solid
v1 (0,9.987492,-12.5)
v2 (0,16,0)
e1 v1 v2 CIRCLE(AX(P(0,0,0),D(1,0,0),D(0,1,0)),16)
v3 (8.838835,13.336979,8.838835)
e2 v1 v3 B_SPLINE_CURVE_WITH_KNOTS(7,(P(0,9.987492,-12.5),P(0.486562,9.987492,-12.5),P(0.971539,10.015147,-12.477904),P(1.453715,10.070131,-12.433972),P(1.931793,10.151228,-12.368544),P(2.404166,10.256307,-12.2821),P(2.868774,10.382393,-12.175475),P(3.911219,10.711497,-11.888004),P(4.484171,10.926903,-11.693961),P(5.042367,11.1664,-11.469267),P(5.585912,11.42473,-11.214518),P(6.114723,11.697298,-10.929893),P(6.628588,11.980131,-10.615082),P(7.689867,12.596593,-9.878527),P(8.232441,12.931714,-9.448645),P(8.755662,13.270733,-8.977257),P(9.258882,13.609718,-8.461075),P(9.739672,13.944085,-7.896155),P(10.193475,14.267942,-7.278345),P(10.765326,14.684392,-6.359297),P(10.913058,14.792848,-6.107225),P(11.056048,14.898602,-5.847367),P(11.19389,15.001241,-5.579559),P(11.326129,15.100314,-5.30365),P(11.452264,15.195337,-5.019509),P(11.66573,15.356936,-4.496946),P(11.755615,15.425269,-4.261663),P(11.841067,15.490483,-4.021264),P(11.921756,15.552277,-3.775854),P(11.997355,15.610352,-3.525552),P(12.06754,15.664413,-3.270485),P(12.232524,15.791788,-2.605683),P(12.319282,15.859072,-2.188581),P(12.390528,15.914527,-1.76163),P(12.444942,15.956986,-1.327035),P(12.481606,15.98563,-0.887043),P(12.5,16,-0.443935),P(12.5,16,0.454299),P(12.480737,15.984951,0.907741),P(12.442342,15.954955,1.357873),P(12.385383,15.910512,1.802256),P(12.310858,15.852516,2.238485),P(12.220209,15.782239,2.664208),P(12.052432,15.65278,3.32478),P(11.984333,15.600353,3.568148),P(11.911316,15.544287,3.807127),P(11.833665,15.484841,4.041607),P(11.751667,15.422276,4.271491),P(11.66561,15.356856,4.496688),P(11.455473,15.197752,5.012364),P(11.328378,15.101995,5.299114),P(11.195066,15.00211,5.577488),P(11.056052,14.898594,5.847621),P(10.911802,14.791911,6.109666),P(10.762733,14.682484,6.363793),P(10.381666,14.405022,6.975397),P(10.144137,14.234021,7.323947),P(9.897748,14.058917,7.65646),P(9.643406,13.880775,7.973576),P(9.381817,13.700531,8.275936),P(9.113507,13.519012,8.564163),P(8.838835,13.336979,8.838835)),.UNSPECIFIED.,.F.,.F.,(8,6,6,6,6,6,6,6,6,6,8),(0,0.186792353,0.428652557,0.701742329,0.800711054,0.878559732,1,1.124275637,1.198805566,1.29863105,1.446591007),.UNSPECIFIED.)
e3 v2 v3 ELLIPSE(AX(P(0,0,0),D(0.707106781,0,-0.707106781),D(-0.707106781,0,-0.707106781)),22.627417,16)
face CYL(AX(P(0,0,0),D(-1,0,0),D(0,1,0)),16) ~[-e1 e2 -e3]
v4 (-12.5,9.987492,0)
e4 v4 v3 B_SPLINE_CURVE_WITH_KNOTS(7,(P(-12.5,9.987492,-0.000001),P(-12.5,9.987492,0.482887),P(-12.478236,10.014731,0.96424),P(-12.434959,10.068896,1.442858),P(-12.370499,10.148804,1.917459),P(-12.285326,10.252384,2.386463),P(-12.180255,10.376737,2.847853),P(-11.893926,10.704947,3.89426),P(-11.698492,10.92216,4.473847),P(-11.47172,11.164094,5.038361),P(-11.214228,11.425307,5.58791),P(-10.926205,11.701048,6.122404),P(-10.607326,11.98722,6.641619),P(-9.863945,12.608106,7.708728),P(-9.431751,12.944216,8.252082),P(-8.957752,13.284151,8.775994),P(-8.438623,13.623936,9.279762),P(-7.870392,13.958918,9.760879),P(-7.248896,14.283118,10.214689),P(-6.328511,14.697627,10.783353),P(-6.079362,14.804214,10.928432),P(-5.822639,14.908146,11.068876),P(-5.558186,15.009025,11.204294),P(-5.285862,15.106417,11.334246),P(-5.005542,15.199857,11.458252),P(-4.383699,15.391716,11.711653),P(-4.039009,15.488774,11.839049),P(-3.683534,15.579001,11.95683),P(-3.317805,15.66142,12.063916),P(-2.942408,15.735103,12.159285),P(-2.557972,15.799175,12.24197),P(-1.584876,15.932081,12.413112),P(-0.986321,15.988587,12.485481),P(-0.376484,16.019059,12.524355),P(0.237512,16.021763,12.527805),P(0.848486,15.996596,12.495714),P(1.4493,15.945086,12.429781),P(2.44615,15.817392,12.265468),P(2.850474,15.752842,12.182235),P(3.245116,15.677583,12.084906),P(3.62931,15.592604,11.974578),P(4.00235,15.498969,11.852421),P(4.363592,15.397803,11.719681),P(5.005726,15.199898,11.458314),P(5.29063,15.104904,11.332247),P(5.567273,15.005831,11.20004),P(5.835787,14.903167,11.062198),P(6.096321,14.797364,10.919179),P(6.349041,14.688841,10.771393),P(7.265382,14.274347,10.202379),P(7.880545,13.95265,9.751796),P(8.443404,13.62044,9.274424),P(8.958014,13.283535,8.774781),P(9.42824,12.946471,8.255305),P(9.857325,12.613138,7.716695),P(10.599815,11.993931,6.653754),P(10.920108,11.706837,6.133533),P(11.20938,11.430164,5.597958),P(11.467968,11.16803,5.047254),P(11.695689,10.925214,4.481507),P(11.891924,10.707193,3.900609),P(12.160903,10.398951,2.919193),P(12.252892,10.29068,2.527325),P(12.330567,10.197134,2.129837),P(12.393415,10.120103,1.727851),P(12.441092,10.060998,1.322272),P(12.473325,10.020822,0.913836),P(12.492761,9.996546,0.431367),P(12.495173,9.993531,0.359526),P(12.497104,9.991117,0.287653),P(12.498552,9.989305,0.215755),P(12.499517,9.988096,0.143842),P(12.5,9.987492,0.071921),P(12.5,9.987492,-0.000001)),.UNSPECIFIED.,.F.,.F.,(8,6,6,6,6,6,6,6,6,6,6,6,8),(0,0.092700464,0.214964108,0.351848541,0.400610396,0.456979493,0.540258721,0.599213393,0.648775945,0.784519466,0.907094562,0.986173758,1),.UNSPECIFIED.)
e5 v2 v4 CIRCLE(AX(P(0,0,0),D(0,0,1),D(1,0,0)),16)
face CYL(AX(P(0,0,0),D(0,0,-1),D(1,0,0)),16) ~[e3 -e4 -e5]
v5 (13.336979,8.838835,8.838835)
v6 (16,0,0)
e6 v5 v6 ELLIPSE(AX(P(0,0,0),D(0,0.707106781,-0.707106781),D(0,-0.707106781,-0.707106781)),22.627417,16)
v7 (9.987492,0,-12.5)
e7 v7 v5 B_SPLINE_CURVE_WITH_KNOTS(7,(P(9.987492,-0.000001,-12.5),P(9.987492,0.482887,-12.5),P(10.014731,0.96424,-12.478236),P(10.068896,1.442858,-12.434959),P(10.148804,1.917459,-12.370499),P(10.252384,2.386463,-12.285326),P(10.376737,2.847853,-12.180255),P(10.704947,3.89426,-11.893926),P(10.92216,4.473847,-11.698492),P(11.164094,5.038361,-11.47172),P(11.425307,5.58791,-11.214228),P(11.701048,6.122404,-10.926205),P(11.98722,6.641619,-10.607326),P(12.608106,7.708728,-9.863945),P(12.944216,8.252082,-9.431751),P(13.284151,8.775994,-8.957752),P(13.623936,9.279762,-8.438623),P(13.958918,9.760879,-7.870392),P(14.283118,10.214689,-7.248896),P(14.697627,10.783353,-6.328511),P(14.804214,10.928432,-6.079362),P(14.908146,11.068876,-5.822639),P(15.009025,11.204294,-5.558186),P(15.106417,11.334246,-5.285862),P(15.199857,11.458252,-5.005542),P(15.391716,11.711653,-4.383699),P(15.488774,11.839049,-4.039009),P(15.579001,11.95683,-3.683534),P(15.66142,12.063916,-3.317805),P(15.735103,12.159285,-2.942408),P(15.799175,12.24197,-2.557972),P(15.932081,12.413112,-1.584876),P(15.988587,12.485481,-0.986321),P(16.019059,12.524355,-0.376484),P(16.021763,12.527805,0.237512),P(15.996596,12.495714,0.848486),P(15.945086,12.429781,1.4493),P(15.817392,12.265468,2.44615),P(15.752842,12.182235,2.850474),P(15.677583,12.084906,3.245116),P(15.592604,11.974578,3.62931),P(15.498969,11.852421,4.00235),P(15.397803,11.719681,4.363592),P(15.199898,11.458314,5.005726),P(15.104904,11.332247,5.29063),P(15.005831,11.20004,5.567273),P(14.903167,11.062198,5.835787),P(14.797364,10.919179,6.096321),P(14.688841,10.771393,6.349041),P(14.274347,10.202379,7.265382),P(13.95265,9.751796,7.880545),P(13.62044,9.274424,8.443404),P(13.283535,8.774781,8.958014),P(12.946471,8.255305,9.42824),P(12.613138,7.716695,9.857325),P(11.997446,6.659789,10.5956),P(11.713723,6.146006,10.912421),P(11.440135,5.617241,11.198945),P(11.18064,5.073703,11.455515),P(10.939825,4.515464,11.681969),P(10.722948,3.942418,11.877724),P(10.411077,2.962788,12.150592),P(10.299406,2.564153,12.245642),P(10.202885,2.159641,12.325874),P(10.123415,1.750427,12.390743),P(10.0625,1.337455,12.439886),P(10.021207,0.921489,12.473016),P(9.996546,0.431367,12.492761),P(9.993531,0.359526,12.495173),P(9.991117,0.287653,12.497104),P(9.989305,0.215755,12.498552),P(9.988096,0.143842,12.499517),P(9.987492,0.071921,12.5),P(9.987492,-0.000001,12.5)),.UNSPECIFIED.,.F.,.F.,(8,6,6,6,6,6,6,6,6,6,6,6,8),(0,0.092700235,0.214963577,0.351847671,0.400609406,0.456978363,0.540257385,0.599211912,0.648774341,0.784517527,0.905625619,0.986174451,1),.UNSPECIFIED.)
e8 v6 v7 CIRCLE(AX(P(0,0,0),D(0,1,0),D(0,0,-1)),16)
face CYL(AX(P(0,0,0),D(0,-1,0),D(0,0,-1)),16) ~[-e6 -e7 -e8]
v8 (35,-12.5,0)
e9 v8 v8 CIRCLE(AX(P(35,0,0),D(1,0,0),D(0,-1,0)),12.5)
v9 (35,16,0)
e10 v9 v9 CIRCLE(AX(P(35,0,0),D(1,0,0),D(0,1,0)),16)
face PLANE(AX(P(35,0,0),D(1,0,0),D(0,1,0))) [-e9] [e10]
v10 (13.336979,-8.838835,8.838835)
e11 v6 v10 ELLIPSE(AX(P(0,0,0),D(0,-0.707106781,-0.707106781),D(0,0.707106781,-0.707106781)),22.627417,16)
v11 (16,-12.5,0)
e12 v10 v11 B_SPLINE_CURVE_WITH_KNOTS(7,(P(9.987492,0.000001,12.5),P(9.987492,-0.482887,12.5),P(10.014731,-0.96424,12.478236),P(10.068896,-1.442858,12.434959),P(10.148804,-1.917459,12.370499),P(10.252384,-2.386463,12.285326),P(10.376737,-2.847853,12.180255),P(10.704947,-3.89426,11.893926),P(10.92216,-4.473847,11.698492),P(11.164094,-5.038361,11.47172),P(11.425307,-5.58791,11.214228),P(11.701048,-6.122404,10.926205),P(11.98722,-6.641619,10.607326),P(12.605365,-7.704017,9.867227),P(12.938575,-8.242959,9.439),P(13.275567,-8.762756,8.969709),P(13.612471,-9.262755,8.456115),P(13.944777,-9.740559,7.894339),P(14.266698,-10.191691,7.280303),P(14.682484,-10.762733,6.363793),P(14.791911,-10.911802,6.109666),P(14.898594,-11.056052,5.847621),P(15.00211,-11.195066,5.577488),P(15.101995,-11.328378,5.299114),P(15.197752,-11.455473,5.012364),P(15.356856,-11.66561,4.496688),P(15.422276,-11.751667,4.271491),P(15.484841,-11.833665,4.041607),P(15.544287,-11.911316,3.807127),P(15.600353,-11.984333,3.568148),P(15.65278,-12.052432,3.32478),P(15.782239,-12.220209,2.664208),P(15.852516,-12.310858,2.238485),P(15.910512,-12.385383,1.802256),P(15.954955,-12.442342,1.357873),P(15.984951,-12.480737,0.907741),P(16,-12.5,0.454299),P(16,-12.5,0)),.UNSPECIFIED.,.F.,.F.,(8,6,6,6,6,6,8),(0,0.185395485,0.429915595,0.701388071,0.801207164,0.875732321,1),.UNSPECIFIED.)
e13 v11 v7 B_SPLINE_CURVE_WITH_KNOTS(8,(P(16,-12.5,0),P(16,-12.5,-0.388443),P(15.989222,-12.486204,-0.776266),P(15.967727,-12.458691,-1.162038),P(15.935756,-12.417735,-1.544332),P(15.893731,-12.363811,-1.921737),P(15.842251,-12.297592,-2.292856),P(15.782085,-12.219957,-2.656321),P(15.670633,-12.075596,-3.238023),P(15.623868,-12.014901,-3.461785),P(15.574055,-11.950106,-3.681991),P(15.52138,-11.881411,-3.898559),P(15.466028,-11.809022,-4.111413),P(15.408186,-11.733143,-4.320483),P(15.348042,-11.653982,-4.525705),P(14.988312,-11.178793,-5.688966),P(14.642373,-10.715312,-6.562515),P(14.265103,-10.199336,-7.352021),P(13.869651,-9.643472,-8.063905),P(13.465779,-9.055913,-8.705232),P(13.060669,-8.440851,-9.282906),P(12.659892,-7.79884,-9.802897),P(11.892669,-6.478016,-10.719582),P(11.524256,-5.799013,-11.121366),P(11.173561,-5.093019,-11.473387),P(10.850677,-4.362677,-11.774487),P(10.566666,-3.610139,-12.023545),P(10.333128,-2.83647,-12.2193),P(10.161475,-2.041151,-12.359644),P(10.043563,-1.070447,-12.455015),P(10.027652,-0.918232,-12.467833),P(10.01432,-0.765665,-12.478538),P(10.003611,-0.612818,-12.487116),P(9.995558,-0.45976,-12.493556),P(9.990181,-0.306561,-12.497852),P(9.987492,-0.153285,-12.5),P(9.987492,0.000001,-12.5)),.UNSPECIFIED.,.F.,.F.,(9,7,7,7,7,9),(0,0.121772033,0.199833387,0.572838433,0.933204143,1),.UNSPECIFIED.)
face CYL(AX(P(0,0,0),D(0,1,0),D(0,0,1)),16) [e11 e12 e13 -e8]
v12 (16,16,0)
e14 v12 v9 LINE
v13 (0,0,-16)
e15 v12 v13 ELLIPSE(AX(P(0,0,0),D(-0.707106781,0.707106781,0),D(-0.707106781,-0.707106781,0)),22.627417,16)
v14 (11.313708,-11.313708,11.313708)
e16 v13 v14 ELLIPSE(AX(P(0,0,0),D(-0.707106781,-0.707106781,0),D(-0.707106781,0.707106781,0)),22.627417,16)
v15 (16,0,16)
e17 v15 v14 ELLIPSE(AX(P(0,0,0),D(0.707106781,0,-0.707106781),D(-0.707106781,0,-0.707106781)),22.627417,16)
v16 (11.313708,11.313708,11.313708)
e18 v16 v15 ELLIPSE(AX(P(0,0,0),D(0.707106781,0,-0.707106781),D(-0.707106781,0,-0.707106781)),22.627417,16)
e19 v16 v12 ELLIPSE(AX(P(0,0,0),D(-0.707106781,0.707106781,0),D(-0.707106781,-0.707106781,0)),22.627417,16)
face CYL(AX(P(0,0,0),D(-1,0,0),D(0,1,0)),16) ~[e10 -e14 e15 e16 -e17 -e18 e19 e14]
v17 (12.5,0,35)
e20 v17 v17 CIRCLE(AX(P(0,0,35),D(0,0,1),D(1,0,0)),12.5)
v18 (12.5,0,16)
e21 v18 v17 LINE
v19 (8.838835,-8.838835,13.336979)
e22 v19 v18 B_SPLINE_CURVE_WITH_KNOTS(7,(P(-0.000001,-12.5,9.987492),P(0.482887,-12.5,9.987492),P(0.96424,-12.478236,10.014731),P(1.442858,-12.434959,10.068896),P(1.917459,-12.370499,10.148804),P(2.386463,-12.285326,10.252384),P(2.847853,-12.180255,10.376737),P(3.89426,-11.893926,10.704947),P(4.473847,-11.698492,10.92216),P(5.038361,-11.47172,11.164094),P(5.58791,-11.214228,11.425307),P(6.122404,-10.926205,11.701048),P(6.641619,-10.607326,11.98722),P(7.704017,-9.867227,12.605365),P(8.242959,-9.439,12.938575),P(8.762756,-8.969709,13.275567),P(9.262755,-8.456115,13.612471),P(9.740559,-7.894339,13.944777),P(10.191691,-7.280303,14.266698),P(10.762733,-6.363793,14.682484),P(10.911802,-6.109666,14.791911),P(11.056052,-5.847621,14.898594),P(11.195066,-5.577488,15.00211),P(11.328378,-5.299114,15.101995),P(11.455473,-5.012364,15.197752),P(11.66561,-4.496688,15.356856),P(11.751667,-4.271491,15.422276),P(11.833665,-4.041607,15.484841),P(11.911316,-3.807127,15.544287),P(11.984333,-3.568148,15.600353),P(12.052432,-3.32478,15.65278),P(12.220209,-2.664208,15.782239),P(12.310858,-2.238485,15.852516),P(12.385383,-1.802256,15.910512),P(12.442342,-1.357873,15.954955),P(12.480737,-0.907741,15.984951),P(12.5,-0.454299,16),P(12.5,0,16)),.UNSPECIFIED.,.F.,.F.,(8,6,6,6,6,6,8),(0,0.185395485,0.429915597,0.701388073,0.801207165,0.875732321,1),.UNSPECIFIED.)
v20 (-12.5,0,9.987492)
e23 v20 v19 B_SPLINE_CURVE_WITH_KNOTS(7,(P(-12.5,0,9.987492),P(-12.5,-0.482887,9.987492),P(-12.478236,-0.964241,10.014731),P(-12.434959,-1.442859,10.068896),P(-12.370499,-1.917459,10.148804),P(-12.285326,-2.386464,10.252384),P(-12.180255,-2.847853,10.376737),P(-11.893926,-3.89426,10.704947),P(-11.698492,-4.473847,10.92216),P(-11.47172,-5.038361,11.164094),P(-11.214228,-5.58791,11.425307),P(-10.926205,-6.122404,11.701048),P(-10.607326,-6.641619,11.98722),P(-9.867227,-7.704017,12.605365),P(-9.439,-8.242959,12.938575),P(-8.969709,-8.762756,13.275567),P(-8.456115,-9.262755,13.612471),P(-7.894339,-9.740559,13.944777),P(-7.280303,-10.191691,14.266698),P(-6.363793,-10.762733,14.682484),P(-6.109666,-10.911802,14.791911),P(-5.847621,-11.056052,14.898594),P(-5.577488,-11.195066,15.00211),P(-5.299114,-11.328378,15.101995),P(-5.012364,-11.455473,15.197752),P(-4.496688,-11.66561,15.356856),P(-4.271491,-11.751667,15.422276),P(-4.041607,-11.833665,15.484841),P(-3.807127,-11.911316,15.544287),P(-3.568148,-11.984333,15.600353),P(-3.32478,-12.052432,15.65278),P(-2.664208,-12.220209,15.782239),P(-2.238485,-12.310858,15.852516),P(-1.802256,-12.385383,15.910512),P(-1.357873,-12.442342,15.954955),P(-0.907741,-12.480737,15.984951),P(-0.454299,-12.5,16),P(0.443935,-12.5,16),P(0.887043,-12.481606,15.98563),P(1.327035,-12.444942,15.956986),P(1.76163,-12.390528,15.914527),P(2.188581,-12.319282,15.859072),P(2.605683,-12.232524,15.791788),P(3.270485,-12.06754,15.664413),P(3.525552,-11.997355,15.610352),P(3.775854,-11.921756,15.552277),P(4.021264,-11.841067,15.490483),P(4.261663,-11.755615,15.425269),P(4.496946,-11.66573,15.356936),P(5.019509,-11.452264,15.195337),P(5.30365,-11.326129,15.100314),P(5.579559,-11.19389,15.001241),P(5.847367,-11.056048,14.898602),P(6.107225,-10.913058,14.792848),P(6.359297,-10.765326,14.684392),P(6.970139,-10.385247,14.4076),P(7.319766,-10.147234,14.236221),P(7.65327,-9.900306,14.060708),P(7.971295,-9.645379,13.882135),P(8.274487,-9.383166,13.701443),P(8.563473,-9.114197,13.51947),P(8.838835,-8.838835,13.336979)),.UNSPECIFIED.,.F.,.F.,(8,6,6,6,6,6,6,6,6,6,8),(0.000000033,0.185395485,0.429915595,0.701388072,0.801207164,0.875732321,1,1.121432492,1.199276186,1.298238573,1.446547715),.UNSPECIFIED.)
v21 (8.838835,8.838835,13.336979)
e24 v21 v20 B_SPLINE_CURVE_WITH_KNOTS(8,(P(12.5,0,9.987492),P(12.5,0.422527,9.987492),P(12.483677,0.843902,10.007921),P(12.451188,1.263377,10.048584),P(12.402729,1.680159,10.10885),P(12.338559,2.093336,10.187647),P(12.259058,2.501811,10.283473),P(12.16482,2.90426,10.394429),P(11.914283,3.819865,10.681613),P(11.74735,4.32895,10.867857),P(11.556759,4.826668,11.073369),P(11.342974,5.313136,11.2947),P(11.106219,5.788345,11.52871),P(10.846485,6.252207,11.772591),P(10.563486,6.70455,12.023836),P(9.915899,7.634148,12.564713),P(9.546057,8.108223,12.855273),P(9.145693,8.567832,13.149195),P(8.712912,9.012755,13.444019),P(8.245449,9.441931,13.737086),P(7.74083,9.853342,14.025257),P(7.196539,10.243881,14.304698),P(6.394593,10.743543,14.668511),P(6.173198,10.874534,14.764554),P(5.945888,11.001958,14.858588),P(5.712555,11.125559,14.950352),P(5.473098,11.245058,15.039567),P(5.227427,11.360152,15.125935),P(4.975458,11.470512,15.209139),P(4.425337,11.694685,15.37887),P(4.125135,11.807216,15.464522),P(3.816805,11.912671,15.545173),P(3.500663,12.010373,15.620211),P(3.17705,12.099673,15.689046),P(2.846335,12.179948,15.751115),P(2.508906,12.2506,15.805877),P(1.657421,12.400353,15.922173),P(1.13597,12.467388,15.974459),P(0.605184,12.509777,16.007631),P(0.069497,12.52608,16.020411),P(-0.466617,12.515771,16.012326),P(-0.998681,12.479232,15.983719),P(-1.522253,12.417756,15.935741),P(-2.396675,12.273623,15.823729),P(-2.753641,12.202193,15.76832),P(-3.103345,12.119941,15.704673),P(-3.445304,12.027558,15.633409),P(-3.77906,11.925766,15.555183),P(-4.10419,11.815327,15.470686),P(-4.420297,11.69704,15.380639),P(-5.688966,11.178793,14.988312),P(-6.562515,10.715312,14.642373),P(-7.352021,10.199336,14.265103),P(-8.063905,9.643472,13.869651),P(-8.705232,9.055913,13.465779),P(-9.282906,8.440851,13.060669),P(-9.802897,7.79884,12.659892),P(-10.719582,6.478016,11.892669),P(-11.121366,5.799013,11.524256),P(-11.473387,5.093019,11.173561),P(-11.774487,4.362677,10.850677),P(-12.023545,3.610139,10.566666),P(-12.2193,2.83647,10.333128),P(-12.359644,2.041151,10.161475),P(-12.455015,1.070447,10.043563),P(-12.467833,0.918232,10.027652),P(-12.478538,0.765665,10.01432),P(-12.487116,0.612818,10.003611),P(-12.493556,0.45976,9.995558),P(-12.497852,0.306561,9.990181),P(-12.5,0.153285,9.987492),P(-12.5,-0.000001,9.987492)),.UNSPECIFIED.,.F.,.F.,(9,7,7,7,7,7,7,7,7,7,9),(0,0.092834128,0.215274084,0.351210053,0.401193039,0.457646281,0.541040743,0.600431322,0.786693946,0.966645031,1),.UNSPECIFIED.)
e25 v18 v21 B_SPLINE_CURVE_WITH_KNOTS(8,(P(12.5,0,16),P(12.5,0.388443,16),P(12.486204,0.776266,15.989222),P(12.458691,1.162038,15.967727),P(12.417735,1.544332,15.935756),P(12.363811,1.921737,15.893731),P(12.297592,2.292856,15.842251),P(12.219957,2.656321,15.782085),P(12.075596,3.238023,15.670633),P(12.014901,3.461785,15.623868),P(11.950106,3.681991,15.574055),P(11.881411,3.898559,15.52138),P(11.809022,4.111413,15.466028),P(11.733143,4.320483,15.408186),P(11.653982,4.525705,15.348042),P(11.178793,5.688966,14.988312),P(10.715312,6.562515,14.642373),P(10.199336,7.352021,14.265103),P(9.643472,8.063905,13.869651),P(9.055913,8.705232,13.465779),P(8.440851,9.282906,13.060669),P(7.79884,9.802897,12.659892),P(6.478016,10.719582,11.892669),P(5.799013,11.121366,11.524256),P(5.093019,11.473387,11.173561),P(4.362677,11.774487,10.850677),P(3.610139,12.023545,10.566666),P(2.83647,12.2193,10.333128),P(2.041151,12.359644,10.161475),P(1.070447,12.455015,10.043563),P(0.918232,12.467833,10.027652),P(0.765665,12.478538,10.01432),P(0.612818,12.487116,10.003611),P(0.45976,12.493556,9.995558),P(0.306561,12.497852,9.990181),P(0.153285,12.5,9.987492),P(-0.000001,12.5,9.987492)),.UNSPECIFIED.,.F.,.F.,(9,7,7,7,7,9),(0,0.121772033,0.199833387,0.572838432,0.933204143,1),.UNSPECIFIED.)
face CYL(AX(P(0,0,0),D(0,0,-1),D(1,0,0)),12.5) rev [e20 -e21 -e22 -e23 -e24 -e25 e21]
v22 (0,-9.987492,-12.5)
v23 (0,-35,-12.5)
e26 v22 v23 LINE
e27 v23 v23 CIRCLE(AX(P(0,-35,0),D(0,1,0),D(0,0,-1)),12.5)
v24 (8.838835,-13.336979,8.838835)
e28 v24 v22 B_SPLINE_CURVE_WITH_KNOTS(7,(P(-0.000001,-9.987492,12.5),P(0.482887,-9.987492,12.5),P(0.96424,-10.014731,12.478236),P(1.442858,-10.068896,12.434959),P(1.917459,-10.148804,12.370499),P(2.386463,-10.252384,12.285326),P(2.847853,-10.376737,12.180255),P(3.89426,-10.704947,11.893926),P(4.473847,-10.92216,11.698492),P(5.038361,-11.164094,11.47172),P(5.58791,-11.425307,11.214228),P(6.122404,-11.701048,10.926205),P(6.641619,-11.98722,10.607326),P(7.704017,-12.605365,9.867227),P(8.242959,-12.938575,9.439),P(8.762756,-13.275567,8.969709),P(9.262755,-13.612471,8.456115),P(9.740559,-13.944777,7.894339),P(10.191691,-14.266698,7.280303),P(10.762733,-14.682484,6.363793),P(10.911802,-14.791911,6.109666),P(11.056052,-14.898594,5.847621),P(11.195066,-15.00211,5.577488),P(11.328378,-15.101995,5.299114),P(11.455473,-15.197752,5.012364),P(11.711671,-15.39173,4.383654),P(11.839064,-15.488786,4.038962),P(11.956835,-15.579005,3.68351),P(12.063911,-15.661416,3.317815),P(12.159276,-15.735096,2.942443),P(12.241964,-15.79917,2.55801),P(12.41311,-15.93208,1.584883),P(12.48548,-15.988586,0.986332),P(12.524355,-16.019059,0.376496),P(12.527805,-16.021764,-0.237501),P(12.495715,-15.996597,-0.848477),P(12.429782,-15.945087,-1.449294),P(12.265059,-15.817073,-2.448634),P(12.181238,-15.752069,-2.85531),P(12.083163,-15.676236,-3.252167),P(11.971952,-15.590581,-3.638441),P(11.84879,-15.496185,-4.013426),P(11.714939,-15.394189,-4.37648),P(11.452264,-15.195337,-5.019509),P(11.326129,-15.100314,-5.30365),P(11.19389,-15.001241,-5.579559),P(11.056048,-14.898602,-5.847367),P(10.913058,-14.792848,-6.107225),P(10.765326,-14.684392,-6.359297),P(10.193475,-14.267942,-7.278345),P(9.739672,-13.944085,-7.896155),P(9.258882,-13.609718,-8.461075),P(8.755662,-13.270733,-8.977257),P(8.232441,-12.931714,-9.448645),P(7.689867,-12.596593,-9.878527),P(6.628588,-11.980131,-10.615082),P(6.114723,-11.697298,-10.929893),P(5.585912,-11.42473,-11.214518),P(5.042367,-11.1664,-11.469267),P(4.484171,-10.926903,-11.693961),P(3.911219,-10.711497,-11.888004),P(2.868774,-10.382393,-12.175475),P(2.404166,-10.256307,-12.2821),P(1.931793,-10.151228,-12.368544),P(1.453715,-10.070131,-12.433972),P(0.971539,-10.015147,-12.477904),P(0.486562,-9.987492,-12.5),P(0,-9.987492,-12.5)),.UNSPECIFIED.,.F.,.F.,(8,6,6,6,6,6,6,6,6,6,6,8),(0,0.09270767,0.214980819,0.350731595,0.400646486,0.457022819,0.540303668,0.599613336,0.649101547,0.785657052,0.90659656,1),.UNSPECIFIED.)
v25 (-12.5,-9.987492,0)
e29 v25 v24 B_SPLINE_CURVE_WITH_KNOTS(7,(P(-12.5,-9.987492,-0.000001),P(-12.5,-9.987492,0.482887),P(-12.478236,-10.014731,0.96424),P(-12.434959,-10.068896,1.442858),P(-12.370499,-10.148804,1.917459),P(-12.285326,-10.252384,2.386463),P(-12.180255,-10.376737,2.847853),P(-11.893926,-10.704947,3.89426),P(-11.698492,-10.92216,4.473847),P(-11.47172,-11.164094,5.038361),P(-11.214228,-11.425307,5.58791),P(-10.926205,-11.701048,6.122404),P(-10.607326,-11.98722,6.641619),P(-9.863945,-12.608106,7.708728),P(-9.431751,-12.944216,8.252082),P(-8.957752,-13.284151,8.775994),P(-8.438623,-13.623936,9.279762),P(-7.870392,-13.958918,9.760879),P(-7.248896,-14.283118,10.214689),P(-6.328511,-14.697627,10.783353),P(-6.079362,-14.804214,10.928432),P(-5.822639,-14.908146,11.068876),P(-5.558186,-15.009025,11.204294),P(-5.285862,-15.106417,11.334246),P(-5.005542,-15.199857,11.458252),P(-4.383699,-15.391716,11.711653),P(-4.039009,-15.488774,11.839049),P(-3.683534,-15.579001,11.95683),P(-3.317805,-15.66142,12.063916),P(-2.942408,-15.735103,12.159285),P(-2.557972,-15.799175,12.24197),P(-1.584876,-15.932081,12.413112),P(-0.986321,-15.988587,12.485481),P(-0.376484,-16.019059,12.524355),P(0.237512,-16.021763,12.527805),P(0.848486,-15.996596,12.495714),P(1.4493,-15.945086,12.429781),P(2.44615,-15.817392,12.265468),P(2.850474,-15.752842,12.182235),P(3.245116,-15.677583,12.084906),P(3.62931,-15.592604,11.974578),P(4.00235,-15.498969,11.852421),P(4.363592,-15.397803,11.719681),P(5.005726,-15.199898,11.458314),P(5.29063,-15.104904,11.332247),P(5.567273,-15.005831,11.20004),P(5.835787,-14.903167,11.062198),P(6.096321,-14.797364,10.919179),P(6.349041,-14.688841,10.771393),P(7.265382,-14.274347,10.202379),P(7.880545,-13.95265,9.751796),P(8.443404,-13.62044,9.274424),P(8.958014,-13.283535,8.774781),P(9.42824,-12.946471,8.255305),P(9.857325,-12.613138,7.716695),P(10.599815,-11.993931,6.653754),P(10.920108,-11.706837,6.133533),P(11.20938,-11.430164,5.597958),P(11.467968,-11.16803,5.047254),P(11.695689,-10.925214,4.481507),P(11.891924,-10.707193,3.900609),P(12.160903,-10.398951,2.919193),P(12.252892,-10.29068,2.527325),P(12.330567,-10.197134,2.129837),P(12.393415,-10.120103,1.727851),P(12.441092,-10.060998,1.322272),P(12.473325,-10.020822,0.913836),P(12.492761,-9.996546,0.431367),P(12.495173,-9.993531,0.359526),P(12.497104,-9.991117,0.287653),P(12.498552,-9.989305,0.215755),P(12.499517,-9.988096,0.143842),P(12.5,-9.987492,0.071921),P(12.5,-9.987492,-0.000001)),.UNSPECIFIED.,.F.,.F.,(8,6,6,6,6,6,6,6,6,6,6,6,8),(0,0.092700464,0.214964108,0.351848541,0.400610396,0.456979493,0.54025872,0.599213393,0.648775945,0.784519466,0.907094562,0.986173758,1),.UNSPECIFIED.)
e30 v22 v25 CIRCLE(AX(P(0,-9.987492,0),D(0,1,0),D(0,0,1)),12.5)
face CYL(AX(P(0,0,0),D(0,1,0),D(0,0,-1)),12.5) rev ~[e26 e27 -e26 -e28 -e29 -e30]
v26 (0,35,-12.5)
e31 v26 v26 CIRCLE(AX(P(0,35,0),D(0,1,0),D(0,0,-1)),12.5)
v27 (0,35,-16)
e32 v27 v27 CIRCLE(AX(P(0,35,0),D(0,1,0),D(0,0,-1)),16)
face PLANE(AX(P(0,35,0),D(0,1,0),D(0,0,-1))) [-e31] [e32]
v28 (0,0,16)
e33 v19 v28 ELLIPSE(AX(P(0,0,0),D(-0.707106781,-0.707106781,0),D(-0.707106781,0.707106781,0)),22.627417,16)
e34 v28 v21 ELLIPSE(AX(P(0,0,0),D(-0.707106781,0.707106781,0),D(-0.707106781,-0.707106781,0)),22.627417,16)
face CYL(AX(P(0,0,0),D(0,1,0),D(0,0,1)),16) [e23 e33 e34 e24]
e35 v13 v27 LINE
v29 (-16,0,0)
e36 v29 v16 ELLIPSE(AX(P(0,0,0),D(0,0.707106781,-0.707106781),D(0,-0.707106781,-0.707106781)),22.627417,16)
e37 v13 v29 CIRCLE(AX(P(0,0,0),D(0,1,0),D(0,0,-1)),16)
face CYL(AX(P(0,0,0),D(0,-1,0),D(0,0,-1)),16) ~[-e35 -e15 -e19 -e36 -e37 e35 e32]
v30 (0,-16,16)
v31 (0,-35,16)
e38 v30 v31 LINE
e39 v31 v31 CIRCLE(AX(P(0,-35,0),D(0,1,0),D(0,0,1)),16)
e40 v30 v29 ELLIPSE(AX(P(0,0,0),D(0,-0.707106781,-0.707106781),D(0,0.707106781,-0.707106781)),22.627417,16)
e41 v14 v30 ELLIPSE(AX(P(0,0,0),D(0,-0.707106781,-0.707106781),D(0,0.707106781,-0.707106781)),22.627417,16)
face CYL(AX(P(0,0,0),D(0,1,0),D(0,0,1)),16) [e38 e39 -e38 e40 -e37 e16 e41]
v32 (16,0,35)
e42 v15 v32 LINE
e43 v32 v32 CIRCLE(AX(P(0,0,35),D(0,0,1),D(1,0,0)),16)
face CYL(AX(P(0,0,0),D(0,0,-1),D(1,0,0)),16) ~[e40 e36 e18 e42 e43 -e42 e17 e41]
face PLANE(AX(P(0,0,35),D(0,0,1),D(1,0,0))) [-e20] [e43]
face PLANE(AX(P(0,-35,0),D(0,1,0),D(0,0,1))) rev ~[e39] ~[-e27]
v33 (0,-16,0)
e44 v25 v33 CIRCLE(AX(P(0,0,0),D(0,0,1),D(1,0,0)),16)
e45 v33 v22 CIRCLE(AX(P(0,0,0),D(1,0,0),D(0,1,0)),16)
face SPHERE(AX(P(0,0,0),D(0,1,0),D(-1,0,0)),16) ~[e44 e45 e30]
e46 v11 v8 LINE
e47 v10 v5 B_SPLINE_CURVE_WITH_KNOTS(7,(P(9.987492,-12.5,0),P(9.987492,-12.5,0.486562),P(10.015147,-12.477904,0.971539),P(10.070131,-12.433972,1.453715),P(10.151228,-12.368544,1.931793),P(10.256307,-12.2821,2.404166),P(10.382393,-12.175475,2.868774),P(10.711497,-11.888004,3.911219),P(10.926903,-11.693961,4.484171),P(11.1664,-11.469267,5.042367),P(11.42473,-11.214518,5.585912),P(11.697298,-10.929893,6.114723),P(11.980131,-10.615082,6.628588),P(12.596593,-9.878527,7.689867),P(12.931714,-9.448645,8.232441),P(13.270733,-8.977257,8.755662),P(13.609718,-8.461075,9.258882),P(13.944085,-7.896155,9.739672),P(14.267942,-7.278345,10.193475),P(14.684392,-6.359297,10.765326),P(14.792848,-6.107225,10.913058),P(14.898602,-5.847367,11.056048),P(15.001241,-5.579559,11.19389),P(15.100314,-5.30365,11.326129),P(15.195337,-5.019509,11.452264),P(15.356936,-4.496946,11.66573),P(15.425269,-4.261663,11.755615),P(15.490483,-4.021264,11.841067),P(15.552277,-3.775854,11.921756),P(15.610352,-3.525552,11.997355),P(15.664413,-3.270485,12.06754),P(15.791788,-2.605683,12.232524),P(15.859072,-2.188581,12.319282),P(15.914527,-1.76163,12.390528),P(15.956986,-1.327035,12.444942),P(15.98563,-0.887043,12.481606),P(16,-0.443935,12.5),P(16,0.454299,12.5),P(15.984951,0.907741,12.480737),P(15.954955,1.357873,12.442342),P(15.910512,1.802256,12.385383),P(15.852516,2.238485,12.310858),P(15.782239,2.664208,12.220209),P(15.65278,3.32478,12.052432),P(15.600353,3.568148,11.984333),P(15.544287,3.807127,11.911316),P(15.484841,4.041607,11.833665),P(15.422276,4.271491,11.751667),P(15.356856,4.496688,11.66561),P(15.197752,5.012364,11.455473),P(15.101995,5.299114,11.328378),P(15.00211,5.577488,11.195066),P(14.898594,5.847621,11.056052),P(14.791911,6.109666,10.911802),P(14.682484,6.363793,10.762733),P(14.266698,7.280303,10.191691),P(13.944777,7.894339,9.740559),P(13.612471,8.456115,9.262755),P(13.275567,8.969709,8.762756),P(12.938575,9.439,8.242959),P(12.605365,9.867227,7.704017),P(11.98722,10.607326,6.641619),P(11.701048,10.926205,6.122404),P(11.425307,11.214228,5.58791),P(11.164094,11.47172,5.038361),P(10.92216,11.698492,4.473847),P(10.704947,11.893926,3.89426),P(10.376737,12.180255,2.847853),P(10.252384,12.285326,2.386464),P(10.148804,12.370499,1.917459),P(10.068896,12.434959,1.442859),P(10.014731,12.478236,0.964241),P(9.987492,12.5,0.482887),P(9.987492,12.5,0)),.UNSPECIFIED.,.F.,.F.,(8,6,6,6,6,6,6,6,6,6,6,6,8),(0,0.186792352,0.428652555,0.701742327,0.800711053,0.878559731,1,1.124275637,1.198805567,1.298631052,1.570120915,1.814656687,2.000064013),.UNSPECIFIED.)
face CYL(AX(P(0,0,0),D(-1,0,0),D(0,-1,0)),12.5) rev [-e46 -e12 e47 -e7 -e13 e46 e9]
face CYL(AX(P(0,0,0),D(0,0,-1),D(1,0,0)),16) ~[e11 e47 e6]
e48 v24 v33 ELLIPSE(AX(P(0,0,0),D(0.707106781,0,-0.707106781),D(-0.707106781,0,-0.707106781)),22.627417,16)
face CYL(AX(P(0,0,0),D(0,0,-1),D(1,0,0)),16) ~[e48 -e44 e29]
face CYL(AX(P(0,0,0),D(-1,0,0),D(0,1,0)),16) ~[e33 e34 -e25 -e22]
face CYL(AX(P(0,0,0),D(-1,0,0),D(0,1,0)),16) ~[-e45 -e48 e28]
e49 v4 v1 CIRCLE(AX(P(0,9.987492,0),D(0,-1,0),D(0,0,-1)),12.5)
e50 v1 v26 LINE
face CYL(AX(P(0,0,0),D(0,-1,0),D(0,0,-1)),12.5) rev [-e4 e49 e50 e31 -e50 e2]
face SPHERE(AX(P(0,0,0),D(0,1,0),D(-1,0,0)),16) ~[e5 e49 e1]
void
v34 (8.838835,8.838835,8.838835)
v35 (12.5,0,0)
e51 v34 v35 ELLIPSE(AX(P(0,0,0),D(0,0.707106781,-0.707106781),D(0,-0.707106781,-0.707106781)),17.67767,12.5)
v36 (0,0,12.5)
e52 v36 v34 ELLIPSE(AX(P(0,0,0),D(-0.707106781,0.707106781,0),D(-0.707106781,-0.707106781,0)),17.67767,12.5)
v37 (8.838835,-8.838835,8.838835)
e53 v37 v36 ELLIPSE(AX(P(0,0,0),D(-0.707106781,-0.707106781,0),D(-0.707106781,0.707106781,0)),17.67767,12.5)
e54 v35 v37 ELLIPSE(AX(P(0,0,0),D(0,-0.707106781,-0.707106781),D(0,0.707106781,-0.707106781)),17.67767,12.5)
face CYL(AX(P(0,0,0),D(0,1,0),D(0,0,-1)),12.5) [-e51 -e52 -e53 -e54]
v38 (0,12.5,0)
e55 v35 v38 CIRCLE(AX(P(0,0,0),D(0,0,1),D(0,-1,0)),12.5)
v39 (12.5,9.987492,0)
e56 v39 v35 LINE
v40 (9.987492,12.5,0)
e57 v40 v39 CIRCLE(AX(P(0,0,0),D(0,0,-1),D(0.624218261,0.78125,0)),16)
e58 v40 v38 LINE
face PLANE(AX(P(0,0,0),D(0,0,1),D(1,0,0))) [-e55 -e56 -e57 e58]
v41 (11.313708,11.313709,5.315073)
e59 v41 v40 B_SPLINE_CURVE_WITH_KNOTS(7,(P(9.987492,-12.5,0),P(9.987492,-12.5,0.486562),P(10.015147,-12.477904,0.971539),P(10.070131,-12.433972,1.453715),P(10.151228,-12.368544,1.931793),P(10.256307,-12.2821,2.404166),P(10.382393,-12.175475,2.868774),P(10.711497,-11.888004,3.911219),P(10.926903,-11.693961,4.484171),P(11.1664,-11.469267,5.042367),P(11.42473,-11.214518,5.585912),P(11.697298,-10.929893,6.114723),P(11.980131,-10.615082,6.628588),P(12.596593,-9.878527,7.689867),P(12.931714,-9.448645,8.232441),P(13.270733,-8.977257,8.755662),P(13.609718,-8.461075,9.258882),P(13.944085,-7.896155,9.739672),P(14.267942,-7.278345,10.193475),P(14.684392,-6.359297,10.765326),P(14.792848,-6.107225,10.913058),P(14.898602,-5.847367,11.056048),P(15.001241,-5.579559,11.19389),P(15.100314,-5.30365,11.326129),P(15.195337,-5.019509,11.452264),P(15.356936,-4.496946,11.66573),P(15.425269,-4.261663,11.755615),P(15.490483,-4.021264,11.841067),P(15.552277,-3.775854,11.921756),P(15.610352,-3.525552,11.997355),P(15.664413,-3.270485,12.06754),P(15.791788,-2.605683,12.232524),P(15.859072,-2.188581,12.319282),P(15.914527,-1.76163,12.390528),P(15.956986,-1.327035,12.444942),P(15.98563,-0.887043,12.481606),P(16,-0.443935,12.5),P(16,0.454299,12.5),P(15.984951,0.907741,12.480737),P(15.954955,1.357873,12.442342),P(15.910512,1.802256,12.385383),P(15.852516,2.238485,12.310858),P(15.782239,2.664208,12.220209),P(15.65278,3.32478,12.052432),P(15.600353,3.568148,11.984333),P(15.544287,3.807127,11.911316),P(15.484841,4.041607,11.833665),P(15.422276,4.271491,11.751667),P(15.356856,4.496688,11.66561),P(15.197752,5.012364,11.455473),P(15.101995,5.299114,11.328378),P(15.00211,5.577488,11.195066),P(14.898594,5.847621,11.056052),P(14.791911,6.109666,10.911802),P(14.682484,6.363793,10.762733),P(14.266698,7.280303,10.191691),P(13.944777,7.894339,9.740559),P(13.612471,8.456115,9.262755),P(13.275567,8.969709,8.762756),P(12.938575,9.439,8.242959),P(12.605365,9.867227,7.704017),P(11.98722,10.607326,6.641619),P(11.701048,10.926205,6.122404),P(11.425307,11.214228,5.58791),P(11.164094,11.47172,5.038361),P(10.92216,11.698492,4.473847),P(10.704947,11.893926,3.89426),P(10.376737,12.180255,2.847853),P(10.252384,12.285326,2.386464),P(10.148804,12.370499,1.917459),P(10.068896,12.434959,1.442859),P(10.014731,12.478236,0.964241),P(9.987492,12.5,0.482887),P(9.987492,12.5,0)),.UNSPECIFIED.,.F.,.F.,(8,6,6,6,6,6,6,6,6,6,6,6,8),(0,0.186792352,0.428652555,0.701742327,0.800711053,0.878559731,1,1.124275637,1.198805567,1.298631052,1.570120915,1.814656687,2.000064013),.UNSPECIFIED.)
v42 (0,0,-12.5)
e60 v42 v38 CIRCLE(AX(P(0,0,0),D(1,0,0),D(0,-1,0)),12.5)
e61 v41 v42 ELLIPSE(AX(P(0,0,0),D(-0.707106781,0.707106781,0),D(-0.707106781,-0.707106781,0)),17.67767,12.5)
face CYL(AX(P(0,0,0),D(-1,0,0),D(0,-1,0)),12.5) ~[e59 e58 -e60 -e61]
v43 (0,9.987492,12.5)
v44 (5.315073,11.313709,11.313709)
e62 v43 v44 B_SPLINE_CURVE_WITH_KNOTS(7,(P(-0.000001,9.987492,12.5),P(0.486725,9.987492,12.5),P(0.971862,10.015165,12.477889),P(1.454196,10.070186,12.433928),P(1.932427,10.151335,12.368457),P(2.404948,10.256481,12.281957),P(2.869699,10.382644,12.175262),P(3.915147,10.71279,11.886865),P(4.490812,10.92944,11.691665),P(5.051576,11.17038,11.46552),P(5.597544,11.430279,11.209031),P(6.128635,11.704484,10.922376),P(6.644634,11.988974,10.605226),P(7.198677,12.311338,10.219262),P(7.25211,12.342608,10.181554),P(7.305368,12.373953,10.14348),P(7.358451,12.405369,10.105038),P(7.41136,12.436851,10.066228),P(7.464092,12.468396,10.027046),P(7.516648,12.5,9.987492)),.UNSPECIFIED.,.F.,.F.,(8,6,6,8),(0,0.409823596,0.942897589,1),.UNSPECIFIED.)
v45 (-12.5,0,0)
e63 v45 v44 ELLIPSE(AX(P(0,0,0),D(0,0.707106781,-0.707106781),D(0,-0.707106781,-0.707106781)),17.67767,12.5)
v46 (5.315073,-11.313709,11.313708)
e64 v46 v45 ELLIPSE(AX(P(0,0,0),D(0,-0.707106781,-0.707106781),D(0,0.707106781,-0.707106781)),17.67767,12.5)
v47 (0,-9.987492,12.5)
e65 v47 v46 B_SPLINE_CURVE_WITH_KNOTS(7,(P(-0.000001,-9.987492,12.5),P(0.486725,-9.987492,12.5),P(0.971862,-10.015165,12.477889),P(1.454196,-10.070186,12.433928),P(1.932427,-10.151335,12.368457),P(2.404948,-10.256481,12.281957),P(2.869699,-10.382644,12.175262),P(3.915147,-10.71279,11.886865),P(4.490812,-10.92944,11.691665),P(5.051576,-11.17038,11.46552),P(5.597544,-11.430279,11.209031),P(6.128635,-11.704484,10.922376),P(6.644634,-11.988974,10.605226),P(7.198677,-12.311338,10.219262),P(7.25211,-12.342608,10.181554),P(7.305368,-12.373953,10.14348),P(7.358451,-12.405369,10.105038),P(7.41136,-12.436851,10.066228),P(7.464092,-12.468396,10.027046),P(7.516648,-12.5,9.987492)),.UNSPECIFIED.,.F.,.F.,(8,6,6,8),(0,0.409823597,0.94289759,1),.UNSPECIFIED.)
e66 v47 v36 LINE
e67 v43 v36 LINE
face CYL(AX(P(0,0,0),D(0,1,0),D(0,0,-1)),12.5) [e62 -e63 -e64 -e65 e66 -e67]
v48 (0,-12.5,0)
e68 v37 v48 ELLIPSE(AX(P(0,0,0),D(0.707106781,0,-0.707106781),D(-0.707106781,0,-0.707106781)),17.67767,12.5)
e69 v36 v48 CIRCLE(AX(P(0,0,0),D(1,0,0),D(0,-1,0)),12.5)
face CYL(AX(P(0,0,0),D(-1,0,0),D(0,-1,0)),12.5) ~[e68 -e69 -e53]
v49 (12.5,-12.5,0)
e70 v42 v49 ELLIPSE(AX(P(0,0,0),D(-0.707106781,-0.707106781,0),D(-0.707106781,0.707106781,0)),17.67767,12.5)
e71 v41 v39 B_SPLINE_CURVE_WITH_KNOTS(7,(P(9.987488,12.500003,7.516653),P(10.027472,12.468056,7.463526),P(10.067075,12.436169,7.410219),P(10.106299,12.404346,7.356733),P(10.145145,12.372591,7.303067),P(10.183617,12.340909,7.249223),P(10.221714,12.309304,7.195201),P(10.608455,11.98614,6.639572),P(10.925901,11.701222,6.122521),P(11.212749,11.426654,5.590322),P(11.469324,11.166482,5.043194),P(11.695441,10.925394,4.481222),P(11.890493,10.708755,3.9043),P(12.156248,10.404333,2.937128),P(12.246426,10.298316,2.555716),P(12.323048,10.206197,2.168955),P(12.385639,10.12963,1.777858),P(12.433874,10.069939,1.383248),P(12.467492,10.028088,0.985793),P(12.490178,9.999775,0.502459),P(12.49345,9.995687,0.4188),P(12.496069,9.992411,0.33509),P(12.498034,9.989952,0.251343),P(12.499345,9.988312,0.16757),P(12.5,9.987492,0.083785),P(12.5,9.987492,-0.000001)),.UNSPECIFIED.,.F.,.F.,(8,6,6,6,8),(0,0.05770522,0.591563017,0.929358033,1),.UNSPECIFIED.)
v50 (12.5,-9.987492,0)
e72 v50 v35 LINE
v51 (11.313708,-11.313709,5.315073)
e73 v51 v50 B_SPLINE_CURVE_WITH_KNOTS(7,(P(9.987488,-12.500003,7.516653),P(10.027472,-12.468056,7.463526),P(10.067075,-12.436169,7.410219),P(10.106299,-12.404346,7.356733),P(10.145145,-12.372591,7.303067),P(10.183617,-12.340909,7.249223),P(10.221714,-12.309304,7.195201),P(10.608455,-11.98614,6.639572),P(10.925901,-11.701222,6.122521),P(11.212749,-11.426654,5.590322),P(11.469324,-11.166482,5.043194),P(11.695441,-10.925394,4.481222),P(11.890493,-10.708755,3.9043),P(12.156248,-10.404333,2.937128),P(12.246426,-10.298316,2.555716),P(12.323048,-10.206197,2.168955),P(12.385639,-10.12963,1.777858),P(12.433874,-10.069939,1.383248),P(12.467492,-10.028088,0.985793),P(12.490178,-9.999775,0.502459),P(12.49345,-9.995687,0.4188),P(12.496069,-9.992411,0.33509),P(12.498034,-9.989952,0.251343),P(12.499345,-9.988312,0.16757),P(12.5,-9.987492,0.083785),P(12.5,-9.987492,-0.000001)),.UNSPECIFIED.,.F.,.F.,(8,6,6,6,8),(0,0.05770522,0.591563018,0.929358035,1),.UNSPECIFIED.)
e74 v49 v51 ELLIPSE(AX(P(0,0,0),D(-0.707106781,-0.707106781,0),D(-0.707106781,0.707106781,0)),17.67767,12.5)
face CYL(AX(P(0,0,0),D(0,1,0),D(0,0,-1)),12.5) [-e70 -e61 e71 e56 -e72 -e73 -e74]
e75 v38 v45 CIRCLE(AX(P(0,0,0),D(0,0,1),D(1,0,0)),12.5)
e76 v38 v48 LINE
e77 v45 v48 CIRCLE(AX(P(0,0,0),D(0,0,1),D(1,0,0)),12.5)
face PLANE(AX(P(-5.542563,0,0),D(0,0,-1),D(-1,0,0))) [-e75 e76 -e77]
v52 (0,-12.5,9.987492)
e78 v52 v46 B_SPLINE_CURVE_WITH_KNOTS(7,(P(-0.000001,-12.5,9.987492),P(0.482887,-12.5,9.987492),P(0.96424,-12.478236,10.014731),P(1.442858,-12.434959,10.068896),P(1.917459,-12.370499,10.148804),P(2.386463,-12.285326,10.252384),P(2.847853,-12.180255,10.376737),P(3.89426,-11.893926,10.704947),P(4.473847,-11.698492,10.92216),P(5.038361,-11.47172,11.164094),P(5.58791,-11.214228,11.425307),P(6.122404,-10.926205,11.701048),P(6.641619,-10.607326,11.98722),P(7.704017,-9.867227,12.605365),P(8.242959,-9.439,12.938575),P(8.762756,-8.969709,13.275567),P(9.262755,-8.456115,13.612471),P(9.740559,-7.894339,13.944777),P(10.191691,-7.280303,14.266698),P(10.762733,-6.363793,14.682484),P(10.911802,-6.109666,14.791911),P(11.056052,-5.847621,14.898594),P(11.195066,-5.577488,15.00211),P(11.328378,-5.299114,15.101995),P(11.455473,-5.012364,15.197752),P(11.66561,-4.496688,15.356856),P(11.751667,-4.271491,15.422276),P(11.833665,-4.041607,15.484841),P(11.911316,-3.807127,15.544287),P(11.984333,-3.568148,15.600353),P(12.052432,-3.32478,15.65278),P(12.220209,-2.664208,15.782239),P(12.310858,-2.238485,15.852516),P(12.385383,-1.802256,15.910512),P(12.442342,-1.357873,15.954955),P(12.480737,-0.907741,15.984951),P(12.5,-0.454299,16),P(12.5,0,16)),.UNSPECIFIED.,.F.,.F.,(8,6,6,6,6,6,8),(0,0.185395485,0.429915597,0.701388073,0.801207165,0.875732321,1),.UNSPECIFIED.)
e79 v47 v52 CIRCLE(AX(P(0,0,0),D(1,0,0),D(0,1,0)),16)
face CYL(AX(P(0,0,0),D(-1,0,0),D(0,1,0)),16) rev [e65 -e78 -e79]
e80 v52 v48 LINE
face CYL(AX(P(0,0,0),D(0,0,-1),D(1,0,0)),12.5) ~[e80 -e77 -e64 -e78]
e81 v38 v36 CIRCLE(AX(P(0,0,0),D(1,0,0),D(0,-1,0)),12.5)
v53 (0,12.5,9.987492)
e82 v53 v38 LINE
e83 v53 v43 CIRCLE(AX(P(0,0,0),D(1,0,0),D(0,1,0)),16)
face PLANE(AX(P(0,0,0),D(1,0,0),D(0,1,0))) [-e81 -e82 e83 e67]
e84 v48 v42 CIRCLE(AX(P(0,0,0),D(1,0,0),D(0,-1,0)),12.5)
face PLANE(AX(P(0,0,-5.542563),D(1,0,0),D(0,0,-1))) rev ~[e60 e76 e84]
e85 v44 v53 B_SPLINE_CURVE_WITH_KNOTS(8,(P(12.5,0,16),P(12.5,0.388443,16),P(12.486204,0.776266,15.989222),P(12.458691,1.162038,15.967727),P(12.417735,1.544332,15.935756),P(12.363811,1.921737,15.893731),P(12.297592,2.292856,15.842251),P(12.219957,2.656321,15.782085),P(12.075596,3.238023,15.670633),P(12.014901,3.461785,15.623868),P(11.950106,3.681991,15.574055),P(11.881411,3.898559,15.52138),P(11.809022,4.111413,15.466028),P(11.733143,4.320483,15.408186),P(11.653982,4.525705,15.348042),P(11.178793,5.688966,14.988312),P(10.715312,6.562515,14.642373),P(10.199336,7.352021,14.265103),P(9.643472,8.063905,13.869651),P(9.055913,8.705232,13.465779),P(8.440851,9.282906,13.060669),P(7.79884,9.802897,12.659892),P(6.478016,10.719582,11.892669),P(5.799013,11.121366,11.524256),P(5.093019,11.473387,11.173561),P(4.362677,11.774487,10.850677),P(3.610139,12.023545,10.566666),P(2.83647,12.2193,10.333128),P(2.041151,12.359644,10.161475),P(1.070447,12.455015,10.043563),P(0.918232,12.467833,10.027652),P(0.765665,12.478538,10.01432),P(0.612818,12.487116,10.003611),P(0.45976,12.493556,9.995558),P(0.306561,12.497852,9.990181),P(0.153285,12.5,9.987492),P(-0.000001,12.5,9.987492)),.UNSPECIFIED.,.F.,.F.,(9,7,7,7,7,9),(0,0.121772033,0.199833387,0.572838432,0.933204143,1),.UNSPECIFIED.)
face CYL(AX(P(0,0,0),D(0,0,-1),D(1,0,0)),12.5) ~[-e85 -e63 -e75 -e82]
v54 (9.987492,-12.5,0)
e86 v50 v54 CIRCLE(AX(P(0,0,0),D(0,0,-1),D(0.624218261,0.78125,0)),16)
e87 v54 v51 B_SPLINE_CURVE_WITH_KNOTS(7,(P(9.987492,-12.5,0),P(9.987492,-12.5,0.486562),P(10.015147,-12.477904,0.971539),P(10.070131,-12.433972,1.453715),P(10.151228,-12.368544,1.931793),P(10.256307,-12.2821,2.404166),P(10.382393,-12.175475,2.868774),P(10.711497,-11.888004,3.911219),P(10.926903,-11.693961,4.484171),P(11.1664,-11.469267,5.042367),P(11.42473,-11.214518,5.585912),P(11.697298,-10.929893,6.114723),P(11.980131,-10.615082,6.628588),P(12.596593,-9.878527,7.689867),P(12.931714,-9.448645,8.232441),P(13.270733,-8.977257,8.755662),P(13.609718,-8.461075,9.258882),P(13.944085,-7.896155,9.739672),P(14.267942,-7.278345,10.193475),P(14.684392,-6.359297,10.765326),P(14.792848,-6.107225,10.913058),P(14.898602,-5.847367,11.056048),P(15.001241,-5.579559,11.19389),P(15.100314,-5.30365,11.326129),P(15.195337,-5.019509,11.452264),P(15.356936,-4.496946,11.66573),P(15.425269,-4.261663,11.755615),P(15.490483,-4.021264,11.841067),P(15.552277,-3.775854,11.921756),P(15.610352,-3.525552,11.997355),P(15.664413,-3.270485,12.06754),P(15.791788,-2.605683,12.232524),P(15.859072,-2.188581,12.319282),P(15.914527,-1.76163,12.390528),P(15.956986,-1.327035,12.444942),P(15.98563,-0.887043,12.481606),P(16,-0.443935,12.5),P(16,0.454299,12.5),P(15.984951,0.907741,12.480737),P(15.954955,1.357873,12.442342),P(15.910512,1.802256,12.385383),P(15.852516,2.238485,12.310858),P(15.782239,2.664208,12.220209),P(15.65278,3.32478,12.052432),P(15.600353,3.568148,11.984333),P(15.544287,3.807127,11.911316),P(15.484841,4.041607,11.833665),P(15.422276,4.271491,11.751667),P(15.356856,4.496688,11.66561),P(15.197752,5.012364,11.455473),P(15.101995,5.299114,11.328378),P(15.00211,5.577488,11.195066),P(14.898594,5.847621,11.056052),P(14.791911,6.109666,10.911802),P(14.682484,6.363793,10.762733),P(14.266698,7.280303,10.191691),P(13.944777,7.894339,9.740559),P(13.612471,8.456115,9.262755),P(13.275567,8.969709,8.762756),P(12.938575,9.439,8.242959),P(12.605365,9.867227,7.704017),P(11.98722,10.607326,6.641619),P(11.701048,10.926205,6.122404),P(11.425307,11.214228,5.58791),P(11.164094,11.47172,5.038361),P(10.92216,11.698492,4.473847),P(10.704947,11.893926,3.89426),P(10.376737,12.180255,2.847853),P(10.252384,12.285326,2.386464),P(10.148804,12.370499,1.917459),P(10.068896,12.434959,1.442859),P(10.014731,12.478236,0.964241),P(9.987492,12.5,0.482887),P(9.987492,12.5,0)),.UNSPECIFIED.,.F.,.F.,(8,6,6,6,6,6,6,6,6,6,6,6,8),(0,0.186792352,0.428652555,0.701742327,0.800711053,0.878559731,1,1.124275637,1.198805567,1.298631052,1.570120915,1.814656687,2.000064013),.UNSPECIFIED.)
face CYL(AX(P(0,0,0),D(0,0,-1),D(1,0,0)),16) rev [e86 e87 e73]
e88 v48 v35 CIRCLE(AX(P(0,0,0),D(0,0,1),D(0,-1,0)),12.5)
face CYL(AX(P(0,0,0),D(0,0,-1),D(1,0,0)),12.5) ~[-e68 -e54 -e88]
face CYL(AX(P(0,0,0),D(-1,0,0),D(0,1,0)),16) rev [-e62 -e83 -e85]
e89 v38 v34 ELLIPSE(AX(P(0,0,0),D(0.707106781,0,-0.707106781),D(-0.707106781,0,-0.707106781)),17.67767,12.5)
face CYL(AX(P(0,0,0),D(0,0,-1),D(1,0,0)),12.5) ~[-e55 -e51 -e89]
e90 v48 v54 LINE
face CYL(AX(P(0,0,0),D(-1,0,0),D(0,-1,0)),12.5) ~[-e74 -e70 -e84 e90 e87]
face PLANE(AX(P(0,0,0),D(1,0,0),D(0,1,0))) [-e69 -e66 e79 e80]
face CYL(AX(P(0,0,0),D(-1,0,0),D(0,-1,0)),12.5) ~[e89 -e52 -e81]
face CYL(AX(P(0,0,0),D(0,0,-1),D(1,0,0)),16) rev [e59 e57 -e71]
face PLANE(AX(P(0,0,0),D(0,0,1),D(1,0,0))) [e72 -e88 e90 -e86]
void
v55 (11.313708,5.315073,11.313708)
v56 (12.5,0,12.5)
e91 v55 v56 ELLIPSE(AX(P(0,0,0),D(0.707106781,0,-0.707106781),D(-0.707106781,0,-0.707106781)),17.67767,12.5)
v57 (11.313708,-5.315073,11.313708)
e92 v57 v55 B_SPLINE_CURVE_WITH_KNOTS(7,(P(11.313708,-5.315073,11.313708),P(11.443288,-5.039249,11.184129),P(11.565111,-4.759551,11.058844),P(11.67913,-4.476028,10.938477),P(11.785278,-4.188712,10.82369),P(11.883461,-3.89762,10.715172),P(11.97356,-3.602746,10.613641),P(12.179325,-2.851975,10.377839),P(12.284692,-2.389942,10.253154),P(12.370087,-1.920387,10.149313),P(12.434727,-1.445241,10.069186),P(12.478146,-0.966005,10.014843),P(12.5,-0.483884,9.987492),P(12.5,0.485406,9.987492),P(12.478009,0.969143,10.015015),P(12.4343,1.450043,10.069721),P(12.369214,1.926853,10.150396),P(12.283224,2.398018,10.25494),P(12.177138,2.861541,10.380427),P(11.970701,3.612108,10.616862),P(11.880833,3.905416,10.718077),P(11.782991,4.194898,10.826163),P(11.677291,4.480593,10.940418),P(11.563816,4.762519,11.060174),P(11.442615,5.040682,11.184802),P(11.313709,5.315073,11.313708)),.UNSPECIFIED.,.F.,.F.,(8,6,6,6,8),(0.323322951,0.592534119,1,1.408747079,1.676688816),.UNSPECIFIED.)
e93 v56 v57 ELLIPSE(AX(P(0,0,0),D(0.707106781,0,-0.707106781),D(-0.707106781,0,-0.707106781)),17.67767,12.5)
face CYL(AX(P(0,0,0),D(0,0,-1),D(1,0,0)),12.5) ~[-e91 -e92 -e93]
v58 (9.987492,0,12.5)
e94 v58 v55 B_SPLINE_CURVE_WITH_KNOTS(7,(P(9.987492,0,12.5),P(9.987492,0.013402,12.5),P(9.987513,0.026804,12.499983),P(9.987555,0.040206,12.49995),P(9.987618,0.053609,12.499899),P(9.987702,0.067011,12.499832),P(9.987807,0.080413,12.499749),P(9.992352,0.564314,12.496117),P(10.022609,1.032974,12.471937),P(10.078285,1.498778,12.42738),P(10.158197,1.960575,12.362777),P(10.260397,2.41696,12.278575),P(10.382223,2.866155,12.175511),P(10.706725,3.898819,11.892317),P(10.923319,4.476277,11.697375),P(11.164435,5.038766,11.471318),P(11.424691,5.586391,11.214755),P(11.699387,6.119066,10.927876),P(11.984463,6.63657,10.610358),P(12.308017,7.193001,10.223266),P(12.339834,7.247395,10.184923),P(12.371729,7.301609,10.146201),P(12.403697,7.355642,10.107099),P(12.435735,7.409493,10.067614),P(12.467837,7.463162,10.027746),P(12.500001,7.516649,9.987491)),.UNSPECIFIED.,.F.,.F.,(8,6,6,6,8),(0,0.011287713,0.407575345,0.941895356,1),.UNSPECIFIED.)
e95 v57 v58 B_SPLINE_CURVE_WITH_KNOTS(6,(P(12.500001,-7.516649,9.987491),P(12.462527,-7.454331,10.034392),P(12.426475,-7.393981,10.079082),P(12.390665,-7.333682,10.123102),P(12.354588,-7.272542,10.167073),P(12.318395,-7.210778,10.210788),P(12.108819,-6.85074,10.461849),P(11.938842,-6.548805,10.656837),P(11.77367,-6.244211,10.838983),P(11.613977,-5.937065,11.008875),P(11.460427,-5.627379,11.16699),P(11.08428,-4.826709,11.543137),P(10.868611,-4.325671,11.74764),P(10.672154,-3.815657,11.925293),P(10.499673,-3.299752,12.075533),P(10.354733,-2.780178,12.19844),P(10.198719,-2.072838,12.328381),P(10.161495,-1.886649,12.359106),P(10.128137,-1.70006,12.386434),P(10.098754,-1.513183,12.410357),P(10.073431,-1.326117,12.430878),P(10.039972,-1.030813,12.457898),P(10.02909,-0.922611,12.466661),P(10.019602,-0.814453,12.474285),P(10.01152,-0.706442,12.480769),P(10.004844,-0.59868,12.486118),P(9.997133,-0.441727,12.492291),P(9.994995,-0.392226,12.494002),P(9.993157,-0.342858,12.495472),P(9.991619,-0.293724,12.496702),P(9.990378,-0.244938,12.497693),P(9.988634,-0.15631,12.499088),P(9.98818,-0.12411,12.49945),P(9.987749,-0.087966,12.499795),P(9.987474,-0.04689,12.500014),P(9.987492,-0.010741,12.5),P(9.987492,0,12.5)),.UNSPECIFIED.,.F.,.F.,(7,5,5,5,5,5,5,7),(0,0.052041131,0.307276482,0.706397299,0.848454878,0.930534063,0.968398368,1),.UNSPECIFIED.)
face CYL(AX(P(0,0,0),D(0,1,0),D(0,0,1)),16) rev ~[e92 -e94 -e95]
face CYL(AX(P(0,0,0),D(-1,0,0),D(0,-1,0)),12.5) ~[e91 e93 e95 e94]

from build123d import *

# Parameters (mm, degrees)
SKETCH_1_R      = 16
SKETCH_1_R_2    = 12.5
EXTRUDE_1_DEPTH = 35
SKETCH_2_R      = 16
SKETCH_2_R_2    = 12.5
EXTRUDE_2_DEPTH = 35
SKETCH_4_R      = 16
SKETCH_4_R_2    = 12.5
EXTRUDE_3_DEPTH = 35
REVOLVE_1_ANGLE = 90
SKETCH_5_R      = 16
SKETCH_5_R_2    = 12.5
EXTRUDE_4_DEPTH = 35


with BuildPart() as part:
    # 草图1 → 凸台-拉伸1 (new body)
    with BuildSketch(Plane.XY):
        Circle(SKETCH_1_R)
        Circle(SKETCH_1_R_2, mode=Mode.SUBTRACT)
    extrude(amount=EXTRUDE_1_DEPTH)

    # 草图2 → 凸台-拉伸2 (add)
    with BuildSketch(Plane(origin=(0, 0, 0), x_dir=(0, 0, -1), z_dir=(1, 0, 0))):
        with Locations(Location((0, 0, 0), (0, 0, 90))):
            Circle(SKETCH_2_R)
        with Locations(Location((0, 0, 0), (0, 0, 270))):
            Circle(SKETCH_2_R_2, mode=Mode.SUBTRACT)
    extrude(amount=EXTRUDE_2_DEPTH)

    # 草图4 → 凸台-拉伸3 (add)
    with BuildSketch(Plane(origin=(0, 0, 0), x_dir=(1, 0, 0), z_dir=(0, 1, 0))):
        with Locations(Location((0, 0, 0), (0, 0, 90))):
            Circle(SKETCH_4_R)
        with Locations(Location((0, 0, 0), (0, 0, 90))):
            Circle(SKETCH_4_R_2, mode=Mode.SUBTRACT)
    extrude(amount=EXTRUDE_3_DEPTH)

    # 草图3 → 旋转1 (revolve)
    with BuildSketch(Plane.XY):
        with BuildLine():
            Line((0, 16), (0, -16))
            ThreePointArc((0, -16), (-16, 0), (0, 16))
        make_face()
    revolve(axis=Axis((0, 16, 0), (0, -1, 0)), revolution_arc=REVOLVE_1_ANGLE)

    # 草图5 → 凸台-拉伸4 (add)
    with BuildSketch(Plane(origin=(0, 0, 0), x_dir=(1, 0, 0), z_dir=(0, 1, 0))):
        with Locations(Location((0, 0, 0), (0, 0, 270))):
            Circle(SKETCH_5_R)
        with Locations(Location((0, 0, 0), (0, 0, 90))):
            Circle(SKETCH_5_R_2, mode=Mode.SUBTRACT)
    extrude(amount=-EXTRUDE_4_DEPTH)


solid = part.part
